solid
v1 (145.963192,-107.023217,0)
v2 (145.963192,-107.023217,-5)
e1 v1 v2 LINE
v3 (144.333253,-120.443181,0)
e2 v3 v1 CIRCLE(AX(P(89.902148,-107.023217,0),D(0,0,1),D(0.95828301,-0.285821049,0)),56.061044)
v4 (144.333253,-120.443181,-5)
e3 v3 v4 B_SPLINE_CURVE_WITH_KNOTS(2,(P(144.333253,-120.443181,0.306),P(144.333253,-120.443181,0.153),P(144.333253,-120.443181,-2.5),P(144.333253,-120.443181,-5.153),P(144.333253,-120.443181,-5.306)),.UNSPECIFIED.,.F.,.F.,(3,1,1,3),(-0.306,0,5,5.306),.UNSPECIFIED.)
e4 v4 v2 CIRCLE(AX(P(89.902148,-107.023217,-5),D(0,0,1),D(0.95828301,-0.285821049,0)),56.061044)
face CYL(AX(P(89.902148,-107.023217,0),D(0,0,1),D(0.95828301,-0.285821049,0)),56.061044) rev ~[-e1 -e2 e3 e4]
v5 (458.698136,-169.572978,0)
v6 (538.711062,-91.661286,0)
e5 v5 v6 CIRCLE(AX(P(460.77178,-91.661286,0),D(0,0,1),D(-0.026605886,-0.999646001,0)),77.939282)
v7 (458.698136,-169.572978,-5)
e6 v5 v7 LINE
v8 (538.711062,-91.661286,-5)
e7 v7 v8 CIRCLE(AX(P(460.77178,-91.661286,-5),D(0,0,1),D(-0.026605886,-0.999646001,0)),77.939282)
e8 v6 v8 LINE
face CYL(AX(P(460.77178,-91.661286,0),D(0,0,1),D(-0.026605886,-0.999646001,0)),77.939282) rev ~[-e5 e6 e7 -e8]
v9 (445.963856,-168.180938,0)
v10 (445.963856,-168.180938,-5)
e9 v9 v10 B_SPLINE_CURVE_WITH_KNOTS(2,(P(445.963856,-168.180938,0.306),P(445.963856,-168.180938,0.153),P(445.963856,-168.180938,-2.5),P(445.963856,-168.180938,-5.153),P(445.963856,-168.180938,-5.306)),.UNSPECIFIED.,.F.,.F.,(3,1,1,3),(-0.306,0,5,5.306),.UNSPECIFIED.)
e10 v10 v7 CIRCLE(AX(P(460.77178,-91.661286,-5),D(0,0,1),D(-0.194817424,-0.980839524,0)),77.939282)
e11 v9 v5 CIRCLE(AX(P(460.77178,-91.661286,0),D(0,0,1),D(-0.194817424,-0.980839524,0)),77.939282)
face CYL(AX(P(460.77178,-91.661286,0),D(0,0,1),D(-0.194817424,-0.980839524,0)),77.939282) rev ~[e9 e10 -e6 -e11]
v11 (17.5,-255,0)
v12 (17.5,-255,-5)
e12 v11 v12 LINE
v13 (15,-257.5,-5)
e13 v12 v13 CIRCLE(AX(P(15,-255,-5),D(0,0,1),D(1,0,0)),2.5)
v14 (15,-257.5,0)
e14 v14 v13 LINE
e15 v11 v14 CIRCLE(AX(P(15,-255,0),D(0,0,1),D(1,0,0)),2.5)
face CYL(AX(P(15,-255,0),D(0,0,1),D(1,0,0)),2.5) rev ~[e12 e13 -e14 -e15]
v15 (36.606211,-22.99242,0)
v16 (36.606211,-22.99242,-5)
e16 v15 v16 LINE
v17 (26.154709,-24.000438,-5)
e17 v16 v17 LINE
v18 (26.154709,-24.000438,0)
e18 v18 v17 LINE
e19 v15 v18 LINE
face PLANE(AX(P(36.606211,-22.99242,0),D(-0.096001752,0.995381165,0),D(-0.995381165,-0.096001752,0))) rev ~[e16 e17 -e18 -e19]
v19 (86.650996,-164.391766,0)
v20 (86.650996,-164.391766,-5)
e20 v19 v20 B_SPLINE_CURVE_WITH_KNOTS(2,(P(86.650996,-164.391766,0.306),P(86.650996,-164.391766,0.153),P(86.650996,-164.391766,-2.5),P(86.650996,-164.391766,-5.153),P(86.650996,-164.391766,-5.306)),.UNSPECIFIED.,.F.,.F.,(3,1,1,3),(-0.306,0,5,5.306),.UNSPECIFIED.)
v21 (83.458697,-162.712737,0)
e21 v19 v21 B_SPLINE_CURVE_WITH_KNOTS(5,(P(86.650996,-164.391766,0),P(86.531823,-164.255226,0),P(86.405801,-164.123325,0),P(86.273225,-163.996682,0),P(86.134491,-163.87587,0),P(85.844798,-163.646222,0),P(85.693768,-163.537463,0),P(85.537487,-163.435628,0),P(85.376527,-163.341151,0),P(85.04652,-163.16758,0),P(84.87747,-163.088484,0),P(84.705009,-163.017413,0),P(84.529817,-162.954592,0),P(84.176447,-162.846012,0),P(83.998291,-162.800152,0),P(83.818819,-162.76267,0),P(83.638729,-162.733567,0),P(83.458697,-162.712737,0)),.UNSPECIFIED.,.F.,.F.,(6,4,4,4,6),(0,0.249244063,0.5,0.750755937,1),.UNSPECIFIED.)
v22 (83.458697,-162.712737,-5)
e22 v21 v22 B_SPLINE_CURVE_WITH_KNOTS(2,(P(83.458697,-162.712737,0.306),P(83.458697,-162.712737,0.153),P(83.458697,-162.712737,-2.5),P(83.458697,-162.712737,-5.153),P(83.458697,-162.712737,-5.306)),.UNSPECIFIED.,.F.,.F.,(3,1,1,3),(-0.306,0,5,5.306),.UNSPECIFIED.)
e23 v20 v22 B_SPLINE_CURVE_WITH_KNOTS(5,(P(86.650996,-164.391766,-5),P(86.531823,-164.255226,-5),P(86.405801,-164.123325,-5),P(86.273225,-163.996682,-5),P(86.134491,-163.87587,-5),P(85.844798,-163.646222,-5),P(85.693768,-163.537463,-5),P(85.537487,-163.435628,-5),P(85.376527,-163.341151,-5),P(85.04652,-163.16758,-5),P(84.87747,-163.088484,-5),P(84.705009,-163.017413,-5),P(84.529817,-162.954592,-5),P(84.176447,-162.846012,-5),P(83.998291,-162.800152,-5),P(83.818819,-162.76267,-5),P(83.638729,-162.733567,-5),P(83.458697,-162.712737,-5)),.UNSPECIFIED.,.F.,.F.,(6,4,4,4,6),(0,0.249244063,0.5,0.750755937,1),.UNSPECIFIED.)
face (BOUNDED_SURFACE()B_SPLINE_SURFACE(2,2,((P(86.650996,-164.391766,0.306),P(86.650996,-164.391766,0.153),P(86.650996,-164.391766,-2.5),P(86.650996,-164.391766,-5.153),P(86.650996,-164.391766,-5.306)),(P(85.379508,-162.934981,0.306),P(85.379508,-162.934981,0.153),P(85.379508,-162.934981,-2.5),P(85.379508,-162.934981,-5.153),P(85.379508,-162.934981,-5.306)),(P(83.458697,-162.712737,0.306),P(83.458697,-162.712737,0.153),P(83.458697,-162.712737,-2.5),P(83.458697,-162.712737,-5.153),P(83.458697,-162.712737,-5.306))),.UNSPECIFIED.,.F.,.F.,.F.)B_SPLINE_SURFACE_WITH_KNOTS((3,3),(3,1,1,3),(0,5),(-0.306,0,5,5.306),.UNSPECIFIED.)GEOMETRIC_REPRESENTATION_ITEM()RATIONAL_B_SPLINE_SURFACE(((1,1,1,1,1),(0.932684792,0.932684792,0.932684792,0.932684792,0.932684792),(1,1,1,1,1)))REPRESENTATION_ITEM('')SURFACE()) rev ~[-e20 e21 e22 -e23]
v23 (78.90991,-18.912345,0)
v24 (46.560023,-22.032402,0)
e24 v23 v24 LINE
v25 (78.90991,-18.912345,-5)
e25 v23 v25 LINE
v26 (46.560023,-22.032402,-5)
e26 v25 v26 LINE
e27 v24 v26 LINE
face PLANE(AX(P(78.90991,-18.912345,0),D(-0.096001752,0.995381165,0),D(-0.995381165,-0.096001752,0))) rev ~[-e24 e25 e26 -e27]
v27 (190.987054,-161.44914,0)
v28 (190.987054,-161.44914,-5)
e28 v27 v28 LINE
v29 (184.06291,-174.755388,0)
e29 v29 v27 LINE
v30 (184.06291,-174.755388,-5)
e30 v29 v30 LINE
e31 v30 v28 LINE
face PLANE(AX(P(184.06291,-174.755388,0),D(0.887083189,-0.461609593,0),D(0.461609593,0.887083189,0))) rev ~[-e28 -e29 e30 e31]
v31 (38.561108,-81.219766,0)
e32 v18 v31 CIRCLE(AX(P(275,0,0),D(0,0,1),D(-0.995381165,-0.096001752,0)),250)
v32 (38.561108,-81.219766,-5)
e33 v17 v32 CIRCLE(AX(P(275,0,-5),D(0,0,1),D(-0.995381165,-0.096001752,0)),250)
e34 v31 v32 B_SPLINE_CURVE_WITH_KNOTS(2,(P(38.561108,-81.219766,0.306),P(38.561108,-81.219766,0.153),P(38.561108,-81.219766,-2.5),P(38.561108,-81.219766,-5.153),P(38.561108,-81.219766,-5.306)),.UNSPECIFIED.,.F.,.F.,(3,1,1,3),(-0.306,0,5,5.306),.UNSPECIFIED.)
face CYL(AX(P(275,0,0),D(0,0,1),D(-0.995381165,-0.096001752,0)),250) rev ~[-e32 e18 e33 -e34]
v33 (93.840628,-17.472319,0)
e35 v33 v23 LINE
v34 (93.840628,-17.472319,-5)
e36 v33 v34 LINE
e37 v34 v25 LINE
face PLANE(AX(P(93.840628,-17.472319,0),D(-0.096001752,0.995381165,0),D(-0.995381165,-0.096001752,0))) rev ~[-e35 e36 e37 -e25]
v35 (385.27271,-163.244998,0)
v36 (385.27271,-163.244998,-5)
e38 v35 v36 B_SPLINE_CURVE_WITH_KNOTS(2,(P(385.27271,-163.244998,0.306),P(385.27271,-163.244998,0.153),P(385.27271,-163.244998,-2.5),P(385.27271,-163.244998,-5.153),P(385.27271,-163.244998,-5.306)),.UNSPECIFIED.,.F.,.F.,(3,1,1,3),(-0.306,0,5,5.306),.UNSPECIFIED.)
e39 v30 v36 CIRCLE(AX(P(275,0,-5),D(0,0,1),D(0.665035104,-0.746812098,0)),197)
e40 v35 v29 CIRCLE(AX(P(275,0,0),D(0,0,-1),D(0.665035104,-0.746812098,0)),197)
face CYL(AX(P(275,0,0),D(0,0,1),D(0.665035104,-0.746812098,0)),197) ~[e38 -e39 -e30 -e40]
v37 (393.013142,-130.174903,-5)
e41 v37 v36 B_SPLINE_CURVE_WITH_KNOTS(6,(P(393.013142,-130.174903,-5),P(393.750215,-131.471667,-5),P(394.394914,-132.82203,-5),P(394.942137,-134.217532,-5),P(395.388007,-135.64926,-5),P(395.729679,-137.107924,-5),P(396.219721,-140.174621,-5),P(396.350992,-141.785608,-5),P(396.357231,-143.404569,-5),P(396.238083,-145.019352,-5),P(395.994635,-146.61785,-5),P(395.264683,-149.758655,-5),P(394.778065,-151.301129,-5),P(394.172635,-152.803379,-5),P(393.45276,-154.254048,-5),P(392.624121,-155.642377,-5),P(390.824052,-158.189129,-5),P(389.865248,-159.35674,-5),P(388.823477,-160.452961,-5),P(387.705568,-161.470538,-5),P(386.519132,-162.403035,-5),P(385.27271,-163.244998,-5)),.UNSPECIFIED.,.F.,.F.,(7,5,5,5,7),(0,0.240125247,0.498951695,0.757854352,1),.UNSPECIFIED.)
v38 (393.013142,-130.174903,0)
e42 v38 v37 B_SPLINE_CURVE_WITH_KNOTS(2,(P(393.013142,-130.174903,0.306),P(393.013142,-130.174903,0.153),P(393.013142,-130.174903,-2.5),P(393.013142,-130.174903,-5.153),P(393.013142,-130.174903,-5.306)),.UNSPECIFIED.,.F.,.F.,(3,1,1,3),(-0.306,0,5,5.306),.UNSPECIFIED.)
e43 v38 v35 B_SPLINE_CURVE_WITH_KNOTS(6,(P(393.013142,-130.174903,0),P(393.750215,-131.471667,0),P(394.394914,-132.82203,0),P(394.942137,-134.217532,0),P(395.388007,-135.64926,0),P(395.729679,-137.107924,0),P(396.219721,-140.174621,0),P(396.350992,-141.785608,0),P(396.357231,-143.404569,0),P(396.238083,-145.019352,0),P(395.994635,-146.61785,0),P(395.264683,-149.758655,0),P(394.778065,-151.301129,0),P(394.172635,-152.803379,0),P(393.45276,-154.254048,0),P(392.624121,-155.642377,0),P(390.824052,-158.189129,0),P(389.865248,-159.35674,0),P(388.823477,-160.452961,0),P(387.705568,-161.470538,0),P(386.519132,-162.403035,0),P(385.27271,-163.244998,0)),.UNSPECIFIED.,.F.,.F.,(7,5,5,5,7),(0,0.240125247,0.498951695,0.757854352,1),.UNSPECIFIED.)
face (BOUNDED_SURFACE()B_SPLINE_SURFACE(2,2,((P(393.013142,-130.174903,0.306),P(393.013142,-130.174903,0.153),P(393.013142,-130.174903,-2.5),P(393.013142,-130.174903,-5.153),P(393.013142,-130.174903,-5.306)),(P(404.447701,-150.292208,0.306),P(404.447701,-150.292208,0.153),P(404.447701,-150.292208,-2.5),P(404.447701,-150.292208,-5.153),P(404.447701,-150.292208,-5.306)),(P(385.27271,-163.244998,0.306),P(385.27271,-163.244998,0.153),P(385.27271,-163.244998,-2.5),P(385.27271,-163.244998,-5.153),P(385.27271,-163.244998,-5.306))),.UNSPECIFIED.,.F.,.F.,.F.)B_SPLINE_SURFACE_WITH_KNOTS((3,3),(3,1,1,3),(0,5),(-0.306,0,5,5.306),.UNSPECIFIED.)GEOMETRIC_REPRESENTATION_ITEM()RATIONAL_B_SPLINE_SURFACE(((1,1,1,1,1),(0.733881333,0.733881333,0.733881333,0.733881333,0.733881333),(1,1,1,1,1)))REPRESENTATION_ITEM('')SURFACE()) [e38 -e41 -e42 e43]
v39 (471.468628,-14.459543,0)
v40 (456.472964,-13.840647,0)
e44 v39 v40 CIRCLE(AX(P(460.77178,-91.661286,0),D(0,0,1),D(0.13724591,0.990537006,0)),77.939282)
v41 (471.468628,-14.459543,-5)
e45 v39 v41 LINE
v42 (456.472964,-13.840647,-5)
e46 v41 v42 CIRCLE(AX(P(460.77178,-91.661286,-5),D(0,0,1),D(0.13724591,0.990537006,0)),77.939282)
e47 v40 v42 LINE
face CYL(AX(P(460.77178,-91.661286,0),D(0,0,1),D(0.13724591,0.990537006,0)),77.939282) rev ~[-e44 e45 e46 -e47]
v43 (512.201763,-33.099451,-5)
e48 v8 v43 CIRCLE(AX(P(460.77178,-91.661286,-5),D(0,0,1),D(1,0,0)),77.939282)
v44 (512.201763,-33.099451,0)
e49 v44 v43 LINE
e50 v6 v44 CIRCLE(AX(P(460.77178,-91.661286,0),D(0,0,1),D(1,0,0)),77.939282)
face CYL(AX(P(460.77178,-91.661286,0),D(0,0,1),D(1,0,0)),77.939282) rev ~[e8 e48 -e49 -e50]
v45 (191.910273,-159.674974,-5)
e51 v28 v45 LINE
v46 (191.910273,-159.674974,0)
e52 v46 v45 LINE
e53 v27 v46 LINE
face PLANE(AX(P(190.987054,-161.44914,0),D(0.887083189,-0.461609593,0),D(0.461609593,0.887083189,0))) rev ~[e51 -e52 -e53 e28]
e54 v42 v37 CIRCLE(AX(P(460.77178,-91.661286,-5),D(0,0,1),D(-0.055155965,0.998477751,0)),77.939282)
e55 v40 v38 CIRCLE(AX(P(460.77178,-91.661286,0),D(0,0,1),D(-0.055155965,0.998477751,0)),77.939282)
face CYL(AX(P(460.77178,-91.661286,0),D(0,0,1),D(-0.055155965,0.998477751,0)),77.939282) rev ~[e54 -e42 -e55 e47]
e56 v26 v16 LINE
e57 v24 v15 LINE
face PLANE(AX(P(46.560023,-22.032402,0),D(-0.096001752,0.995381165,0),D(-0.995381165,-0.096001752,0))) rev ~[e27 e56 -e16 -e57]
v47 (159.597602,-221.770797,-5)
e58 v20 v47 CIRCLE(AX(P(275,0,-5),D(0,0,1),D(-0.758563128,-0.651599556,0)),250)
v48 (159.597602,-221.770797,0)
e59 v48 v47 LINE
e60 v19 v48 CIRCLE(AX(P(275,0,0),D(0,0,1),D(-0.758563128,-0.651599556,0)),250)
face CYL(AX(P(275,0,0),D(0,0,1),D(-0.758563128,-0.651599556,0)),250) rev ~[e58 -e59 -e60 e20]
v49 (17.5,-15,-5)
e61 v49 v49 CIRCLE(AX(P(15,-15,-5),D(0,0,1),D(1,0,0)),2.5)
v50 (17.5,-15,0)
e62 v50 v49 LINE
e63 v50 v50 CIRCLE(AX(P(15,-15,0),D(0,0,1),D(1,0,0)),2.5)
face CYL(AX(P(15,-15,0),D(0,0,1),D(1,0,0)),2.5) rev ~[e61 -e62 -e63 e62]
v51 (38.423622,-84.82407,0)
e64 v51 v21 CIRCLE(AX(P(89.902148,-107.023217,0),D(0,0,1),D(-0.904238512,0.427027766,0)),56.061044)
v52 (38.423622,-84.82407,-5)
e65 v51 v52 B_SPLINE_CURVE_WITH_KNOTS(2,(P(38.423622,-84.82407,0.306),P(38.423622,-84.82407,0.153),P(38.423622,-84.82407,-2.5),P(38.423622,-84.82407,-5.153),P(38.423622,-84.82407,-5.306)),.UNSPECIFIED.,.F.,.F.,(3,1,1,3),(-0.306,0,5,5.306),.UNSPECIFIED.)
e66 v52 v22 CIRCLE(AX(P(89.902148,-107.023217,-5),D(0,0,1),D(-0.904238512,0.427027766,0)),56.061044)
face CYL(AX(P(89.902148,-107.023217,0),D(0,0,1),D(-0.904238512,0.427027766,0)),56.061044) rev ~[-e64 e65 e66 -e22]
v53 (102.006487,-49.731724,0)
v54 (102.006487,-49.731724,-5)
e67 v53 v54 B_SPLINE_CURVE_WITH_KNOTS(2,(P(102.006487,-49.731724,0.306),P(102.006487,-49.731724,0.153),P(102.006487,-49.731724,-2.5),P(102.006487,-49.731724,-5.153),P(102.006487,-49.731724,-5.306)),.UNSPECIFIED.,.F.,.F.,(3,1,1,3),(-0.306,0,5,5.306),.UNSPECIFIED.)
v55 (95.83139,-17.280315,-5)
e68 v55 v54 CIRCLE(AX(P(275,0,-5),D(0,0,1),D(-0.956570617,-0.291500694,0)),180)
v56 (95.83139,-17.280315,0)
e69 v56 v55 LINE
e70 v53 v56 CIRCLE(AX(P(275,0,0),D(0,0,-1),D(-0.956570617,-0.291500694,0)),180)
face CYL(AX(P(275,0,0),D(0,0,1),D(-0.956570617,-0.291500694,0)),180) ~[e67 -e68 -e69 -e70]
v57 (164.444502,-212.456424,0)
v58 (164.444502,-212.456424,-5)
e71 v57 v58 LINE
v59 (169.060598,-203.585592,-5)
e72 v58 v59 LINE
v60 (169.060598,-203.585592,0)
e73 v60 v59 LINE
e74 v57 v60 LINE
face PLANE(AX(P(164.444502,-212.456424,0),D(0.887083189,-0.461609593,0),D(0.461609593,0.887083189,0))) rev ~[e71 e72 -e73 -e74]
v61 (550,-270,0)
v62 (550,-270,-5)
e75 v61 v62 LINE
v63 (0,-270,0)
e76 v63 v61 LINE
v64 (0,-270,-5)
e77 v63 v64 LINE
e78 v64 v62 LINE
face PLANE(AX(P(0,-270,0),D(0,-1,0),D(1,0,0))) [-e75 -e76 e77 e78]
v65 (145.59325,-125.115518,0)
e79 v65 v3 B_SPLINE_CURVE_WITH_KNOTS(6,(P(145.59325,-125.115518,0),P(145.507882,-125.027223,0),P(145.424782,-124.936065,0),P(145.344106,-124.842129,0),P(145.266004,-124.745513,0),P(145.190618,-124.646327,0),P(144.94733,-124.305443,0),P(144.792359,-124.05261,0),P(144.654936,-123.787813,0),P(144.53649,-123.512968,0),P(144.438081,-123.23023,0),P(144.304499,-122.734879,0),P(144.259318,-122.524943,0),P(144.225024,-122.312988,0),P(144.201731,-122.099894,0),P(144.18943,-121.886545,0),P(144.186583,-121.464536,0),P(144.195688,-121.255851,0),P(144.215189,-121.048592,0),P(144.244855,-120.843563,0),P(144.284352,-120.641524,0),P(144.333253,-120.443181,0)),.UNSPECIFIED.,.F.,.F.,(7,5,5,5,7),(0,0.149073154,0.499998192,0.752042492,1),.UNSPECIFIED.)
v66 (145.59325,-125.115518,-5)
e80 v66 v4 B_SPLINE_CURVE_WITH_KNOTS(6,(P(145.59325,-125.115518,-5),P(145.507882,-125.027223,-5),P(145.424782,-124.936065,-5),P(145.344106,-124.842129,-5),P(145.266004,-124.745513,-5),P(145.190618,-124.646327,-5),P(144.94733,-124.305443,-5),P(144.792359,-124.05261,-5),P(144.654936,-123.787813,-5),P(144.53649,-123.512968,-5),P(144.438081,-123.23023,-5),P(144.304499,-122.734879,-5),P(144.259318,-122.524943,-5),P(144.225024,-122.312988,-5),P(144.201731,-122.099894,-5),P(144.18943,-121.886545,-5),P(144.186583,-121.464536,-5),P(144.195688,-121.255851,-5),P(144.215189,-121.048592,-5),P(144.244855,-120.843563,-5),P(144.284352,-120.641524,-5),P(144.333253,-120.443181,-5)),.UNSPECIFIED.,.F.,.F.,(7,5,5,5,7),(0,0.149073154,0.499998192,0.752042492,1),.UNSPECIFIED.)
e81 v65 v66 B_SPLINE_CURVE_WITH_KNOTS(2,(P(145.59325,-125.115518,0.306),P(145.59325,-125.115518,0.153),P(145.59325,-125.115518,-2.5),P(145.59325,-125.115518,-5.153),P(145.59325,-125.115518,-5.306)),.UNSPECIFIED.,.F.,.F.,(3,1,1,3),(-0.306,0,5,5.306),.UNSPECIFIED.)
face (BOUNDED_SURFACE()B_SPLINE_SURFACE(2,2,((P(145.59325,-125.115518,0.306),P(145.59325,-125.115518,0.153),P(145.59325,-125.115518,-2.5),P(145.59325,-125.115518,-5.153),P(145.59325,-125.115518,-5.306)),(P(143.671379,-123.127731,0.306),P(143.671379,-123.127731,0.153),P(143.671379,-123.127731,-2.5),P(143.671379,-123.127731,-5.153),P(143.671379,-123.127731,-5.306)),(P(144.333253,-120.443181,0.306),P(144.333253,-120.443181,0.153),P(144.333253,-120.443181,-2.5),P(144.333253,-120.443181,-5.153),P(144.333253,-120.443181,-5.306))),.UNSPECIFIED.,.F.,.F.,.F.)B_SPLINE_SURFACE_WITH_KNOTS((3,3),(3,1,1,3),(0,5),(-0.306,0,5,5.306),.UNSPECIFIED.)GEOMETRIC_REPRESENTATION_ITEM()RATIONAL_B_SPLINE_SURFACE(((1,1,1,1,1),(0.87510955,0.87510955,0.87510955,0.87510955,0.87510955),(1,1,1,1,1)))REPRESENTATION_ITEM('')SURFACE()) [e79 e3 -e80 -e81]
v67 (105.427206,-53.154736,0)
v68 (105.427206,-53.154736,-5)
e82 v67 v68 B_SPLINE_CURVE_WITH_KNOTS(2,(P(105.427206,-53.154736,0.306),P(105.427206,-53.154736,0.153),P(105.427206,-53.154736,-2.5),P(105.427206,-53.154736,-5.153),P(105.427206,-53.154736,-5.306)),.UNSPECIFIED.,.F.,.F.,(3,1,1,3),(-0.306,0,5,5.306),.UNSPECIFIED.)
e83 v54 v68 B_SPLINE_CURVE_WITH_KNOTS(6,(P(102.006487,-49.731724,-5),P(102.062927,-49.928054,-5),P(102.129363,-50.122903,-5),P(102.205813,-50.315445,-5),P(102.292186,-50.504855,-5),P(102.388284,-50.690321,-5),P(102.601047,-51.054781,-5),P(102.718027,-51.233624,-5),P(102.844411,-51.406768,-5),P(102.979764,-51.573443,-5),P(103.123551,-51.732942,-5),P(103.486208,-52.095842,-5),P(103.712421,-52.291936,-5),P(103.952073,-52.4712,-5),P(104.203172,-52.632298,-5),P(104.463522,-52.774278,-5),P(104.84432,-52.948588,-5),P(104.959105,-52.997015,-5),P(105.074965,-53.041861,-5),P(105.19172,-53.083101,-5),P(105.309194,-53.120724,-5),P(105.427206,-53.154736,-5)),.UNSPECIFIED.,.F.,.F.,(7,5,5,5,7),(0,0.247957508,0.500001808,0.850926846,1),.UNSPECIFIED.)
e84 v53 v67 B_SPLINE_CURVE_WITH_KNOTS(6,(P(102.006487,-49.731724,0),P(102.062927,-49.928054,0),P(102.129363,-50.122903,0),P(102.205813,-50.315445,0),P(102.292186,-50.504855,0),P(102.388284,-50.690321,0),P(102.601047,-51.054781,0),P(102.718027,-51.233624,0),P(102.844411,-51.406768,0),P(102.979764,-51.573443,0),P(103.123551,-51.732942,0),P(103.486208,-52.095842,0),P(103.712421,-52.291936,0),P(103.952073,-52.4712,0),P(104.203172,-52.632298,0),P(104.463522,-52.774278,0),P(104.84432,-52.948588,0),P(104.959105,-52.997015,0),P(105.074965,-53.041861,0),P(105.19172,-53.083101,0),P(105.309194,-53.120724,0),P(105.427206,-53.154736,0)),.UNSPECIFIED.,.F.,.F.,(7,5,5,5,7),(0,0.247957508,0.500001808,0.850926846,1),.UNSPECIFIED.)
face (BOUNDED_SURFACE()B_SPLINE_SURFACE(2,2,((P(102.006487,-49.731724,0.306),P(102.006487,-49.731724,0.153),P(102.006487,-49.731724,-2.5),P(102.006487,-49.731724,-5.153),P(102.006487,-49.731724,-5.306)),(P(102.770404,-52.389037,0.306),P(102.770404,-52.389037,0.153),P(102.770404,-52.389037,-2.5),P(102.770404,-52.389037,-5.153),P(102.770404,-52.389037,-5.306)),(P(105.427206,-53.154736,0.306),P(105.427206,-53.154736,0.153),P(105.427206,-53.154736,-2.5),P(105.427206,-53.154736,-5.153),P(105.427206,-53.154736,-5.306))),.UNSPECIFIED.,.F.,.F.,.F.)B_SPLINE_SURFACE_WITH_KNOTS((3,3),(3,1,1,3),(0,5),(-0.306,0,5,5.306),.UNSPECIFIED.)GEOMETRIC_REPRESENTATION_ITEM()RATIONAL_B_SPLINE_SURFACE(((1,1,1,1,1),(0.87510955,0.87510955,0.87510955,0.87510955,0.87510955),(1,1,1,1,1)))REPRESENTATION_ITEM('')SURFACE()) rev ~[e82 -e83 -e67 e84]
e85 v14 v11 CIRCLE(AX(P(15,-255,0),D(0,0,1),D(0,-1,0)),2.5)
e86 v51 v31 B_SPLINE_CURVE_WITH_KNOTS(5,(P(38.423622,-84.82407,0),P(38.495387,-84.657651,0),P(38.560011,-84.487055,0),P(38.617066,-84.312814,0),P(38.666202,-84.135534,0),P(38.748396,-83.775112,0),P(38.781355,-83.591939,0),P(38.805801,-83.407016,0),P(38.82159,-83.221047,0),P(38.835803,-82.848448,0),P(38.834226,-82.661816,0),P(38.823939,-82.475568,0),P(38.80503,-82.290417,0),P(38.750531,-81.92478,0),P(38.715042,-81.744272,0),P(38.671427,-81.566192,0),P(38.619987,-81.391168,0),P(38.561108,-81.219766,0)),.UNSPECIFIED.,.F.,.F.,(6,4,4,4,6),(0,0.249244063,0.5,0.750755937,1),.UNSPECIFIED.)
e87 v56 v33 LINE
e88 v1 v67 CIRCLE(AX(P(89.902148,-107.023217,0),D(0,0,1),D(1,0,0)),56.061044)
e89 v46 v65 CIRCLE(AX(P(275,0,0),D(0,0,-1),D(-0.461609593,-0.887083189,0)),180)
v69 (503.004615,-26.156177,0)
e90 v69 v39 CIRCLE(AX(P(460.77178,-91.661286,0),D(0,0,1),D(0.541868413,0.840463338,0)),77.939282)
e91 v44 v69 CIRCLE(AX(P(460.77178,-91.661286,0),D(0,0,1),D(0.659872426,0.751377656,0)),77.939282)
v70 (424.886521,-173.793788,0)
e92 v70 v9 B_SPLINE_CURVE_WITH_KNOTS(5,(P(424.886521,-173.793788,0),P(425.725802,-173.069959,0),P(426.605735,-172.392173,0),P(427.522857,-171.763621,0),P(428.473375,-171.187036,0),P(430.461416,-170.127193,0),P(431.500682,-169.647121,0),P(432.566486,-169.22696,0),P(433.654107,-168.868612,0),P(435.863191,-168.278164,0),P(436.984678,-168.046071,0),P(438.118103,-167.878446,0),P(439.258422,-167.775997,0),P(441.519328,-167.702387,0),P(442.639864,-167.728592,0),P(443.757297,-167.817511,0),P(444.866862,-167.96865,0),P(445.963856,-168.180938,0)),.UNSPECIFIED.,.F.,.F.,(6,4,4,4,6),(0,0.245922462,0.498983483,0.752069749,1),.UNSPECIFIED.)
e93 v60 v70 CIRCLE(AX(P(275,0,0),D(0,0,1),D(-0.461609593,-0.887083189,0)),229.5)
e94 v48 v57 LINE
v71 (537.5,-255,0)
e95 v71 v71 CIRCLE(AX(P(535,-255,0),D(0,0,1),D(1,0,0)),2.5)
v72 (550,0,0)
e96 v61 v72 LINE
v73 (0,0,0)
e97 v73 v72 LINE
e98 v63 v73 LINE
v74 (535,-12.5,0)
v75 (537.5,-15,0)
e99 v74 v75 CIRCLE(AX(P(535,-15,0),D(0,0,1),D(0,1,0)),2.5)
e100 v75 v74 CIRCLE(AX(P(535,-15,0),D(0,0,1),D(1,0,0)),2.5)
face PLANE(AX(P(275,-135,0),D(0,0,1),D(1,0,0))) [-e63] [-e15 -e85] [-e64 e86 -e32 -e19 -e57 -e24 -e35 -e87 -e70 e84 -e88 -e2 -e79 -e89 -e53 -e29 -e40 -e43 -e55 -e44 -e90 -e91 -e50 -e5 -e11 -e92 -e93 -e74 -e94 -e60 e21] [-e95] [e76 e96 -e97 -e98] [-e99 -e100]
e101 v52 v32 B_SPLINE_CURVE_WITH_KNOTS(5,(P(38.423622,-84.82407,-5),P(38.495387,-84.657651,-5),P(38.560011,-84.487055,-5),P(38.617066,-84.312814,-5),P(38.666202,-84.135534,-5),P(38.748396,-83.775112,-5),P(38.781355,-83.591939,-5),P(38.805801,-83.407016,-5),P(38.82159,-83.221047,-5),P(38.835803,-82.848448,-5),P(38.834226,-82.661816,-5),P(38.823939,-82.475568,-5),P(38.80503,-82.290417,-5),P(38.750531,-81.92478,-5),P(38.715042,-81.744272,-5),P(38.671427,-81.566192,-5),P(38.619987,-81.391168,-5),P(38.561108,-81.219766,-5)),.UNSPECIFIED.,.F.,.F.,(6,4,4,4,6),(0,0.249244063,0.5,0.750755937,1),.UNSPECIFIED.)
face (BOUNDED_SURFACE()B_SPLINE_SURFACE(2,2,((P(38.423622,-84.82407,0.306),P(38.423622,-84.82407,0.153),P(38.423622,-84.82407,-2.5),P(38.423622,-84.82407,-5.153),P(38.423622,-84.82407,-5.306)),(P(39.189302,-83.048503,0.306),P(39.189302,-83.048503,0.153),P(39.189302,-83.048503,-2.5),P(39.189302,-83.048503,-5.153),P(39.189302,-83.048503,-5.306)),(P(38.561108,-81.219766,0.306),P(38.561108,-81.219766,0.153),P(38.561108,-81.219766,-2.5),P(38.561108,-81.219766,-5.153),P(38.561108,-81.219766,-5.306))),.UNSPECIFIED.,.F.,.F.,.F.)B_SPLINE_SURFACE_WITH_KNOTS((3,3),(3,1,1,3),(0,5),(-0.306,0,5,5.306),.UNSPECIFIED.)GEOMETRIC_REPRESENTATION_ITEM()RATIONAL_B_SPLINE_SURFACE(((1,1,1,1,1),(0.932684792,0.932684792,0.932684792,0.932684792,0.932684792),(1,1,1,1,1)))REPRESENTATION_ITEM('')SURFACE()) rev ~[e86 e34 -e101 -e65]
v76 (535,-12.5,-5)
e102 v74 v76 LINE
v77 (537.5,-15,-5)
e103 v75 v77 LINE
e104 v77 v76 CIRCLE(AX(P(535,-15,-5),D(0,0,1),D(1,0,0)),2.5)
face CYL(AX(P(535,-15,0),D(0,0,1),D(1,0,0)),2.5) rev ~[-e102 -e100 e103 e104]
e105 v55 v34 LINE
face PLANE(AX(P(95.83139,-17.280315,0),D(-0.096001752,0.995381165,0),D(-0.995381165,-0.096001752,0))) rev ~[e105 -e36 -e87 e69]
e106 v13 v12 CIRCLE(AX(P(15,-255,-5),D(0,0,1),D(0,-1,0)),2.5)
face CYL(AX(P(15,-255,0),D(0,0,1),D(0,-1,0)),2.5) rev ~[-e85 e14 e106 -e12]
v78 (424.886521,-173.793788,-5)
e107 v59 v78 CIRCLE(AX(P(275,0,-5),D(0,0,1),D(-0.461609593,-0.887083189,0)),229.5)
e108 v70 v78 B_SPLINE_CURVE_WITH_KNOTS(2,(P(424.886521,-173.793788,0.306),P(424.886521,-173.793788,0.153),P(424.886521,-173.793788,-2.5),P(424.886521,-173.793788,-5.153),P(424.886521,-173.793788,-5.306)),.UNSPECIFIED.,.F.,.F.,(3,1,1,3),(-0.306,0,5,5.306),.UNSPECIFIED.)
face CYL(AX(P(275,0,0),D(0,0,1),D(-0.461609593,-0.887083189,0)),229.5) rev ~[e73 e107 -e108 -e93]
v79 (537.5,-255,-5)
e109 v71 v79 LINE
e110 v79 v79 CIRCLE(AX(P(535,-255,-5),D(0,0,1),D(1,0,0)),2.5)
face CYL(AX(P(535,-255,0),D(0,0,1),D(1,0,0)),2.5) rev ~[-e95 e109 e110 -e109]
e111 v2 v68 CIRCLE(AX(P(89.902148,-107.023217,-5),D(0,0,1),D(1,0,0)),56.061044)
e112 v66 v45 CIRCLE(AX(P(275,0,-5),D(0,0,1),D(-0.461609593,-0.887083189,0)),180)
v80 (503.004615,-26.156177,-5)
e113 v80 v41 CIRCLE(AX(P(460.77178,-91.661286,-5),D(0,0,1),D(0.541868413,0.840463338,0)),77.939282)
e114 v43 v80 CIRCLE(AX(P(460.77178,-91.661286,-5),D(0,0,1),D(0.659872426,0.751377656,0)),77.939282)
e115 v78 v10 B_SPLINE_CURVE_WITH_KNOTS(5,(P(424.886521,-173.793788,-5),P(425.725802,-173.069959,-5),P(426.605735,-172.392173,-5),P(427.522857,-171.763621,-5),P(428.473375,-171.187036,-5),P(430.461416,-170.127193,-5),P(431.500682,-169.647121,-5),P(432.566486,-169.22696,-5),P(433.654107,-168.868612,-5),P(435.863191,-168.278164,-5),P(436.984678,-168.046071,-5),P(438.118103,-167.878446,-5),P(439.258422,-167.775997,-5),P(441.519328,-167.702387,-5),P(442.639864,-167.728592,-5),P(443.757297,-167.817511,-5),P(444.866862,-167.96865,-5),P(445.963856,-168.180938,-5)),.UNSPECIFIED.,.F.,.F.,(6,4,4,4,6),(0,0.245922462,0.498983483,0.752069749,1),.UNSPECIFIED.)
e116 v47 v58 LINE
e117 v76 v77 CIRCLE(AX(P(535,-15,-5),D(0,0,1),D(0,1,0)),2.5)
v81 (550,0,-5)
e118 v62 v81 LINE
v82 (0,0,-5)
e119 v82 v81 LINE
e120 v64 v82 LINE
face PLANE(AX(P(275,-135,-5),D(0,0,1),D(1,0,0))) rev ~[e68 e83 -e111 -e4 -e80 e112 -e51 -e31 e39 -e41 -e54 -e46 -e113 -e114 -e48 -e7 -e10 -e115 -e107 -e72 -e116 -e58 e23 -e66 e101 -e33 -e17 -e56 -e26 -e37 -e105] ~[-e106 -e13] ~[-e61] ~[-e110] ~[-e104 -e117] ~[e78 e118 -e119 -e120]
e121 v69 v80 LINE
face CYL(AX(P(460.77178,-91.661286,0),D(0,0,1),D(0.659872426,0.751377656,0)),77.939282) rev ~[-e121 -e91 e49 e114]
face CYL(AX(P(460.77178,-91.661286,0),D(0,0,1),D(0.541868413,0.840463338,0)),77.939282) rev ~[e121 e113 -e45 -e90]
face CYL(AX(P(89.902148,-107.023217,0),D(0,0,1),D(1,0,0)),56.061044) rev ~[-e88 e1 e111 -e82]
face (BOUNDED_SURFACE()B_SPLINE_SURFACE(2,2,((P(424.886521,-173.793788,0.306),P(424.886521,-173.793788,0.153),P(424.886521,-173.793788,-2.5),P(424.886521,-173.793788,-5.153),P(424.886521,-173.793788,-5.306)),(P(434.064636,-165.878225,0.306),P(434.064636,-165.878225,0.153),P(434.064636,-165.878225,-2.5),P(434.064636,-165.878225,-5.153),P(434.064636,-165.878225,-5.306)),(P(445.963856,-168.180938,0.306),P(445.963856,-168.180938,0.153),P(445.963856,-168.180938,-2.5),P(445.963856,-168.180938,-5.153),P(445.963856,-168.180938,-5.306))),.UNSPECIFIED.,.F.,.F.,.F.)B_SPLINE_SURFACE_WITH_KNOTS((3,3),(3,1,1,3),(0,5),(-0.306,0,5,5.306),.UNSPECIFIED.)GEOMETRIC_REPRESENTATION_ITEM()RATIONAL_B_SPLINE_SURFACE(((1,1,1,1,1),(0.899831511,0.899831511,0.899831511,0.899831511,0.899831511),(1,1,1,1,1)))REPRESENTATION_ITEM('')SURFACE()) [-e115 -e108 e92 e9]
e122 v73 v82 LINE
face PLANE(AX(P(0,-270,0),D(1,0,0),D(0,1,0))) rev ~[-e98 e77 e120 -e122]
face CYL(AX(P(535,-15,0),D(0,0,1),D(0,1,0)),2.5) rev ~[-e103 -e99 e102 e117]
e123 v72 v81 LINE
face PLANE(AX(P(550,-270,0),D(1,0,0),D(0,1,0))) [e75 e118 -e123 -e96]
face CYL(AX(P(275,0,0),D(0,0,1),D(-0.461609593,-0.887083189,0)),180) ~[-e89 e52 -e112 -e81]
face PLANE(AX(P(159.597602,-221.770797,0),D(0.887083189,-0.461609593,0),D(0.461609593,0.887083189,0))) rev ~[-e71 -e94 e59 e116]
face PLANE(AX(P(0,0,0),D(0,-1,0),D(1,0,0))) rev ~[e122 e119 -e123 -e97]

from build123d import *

# Parameters (mm, degrees)
F0_W     = 550
F0_H     = 270
F1_DEPTH = 5
F3_DEPTH = 25
F4_R     = 25
F2_R     = 2.5
F5_DEPTH = 25
F6_R     = 5


with BuildPart() as f1:
    # F0 (on Top) → F1 (new body)
    with BuildSketch(Plane.XY):
        with Locations((275, -135)):
            Rectangle(F0_W, F0_H)
    extrude(amount=-F1_DEPTH)

    # F2 (on face) → F3 (cut)
    with BuildSketch(Plane.XY):
        with BuildLine():
            ThreePointArc((445.5878496959, -168.1072144083), (452.1119253863, -169.1179747106), (458.6981361528, -169.5729777234))
            ThreePointArc((458.6981361528, -169.5729777234), (515.1450884683, -147.5010120731), (538.711061865, -91.6612861494))
            ThreePointArc((538.711061865, -91.6612861494), (531.7751165183, -59.5200686387), (512.2017629268, -33.0994511193))
            ThreePointArc((512.2017629268, -33.0994511193), (489.778644371, -105.9735057557), (445.5878496959, -168.1072144083))
        make_face()
        with BuildLine():
            ThreePointArc((434.4818086721, -165.032732216), (439.9779290015, -166.7755154888), (445.5878496959, -168.1072144083))
            ThreePointArc((445.5878496959, -168.1072144083), (489.778644371, -105.9735057557), (512.2017629268, -33.0994511193))
            ThreePointArc((512.2017629268, -33.0994511193), (507.7316897495, -29.4576002162), (503.004614878, -26.1561769822))
            ThreePointArc((503.004614878, -26.1561769822), (480.8108512866, -101.5487247221), (434.4818086721, -165.032732216))
        make_face()
        with BuildLine():
            ThreePointArc((406.011915497, -147.1219833941), (419.2691571527, -157.6314611673), (434.4818086721, -165.032732216))
            ThreePointArc((434.4818086721, -165.032732216), (480.8108512866, -101.5487247221), (503.004614878, -26.1561769822))
            ThreePointArc((503.004614878, -26.1561769822), (487.87511248, -18.5863859301), (471.4686275556, -14.459543092))
            ThreePointArc((471.4686275556, -14.459543092), (451.6655237624, -87.1681863628), (406.011915497, -147.1219833941))
        make_face()
        with BuildLine():
            ThreePointArc((396.3969974723, -135.5978207964), (400.9264158373, -141.5918788666), (406.011915497, -147.1219833941))
            ThreePointArc((406.011915497, -147.1219833941), (451.6655237624, -87.1681863628), (471.4686275556, -14.459543092))
            ThreePointArc((471.4686275556, -14.459543092), (463.9857274878, -13.7882983897), (456.4729635167, -13.8406471114))
            ThreePointArc((456.4729635167, -13.8406471114), (438.2138341358, -80.5310148123), (396.3969974723, -135.5978207964))
        make_face()
        with BuildLine():
            ThreePointArc((395.2793152892, -133.9137271289), (395.8326968589, -134.7593972826), (396.3969974723, -135.5978207964))
            ThreePointArc((396.3969974723, -135.5978207964), (438.2138341358, -80.5310148123), (456.4729635167, -13.8406471114))
            ThreePointArc((456.4729635167, -13.8406471114), (391.3304963156, -56.2714595868), (395.2793152892, -133.9137271289))
        make_face()
        with BuildLine():
            ThreePointArc((26.1547087534, -24.0004380043), (30.8880481953, -53.9384370008), (39.2095922874, -83.0835942334))
            ThreePointArc((39.2095922874, -83.0835942334), (42.4819606163, -77.1205988593), (46.4524007703, -71.5977994519))
            ThreePointArc((46.4524007703, -71.5977994519), (40.2678425285, -47.5506492992), (36.6062109858, -22.9924196081))
            Line((36.6062109858, -22.9924196081), (26.1547087534, -24.0004380043))
        make_face()
        with BuildLine():
            ThreePointArc((36.6062109858, -22.9924196081), (40.2678425285, -47.5506492992), (46.4524007703, -71.5977994519))
            ThreePointArc((46.4524007703, -71.5977994519), (50.2625511055, -67.3805241048), (54.4801240278, -63.5707031676))
            ThreePointArc((54.4801240278, -63.5707031676), (49.5613274278, -42.9843565598), (46.5600226356, -22.0324020879))
            Line((46.5600226356, -22.0324020879), (36.6062109858, -22.9924196081))
        make_face()
        with BuildLine():
            ThreePointArc((46.5600226356, -22.0324020879), (49.5613274278, -42.9843565598), (54.4801240278, -63.5707031676))
            ThreePointArc((54.4801240278, -63.5707031676), (68.7018719367, -55.1253458568), (84.76908962, -51.1976633843))
            ThreePointArc((84.76908962, -51.1976633843), (81.1661428415, -35.1772059589), (78.9099104977, -18.9123451474))
            Line((78.9099104977, -18.9123451474), (46.5600226356, -22.0324020879))
        make_face()
        with BuildLine():
            ThreePointArc((78.9099104977, -18.9123451474), (81.1661428415, -35.1772059589), (84.76908962, -51.1976633843))
            ThreePointArc((84.76908962, -51.1976633843), (92.7043581114, -51.0322504264), (100.5834584289, -51.9891337337))
            ThreePointArc((100.5834584289, -51.9891337337), (96.3763447636, -34.89397928), (93.8406279725, -17.4723188671))
            Line((93.8406279725, -17.4723188671), (78.9099104977, -18.9123451474))
        make_face()
        with BuildLine():
            ThreePointArc((93.8406279725, -17.4723188671), (96.3763447636, -34.89397928), (100.5834584289, -51.9891337337))
            ThreePointArc((100.5834584289, -51.9891337337), (101.702824577, -52.2182469254), (102.8172889589, -52.4701250099))
            ThreePointArc((102.8172889589, -52.4701250099), (98.4454239564, -35.0497029669), (95.8313903025, -17.2803153631))
            Line((95.8313903025, -17.2803153631), (93.8406279725, -17.4723188671))
        make_face()
        with BuildLine():
            ThreePointArc((102.8172889589, -52.4701250099), (119.1726628165, -90.0990620723), (143.6244940218, -123.0466433063))
            ThreePointArc((143.6244940218, -123.0466433063), (145.375436454, -115.11981647), (145.9631920321, -107.023216784))
            ThreePointArc((145.9631920321, -107.023216784), (133.8730301026, -72.2467564476), (102.8172889589, -52.4701250099))
        make_face()
        with BuildLine():
            ThreePointArc((100.5834584289, -51.9891337337), (117.4412479589, -91.100162762), (142.9268949098, -125.2225814773))
            ThreePointArc((142.9268949098, -125.2225814773), (143.2867819227, -124.1381669965), (143.6244940218, -123.0466433063))
            ThreePointArc((143.6244940218, -123.0466433063), (119.1726628165, -90.0990620723), (102.8172889589, -52.4701250099))
            ThreePointArc((102.8172889589, -52.4701250099), (101.702824577, -52.2182469254), (100.5834584289, -51.9891337337))
        make_face()
        with BuildLine():
            ThreePointArc((84.76908962, -51.1976633843), (104.455636527, -98.6084179347), (135.7230627314, -139.3231306894))
            ThreePointArc((135.7230627314, -139.3231306894), (139.8253147464, -132.5284727964), (142.9268949098, -125.2225814773))
            ThreePointArc((142.9268949098, -125.2225814773), (117.4412479589, -91.100162762), (100.5834584289, -51.9891337337))
            ThreePointArc((100.5834584289, -51.9891337337), (92.7043581114, -51.0322504264), (84.76908962, -51.1976633843))
        make_face()
        with BuildLine():
            ThreePointArc((54.4801240278, -63.5707031676), (76.3201450911, -114.8763041421), (109.8887146149, -159.4004812994))
            ThreePointArc((109.8887146149, -159.4004812994), (124.3031821577, -151.2884347545), (135.7230627314, -139.3231306894))
            ThreePointArc((135.7230627314, -139.3231306894), (104.455636527, -98.6084179347), (84.76908962, -51.1976633843))
            ThreePointArc((84.76908962, -51.1976633843), (68.7018719367, -55.1253458568), (54.4801240278, -63.5707031676))
        make_face()
        with BuildLine():
            ThreePointArc((46.4524007703, -71.5977994519), (67.6630708031, -119.8818075906), (98.9269281749, -162.353082441))
            ThreePointArc((98.9269281749, -162.353082441), (104.4827523758, -161.1549696004), (109.8887146149, -159.4004812994))
            ThreePointArc((109.8887146149, -159.4004812994), (76.3201450911, -114.8763041421), (54.4801240278, -63.5707031676))
            ThreePointArc((54.4801240278, -63.5707031676), (50.2625511055, -67.3805241048), (46.4524007703, -71.5977994519))
        make_face()
        with BuildLine():
            ThreePointArc((39.2095922874, -83.0835942334), (58.5731428007, -125.1375862115), (85.359218008, -162.8998889056))
            ThreePointArc((85.359218008, -162.8998889056), (92.159689712, -163.0387878421), (98.9269281749, -162.353082441))
            ThreePointArc((98.9269281749, -162.353082441), (67.6630708031, -119.8818075906), (46.4524007703, -71.5977994519))
            ThreePointArc((46.4524007703, -71.5977994519), (42.4819606163, -77.1205988593), (39.2095922874, -83.0835942334))
        make_face()
        with BuildLine():
            ThreePointArc((39.2095922874, -83.0835942334), (41.3696850637, -135.0845918815), (85.359218008, -162.8998889056))
            ThreePointArc((85.359218008, -162.8998889056), (58.5731428007, -125.1375862115), (39.2095922874, -83.0835942334))
        make_face()
        with BuildLine():
            ThreePointArc((142.9268949098, -125.2225814773), (165.4491613095, -145.3362093293), (190.9870540226, -161.4491403142))
            Line((190.9870540226, -161.4491403142), (191.9102732092, -159.6749739371))
            ThreePointArc((191.9102732092, -159.6749739371), (166.2146946142, -143.4076613439), (143.6244940218, -123.0466433063))
            ThreePointArc((143.6244940218, -123.0466433063), (143.2867819227, -124.1381669965), (142.9268949098, -125.2225814773))
        make_face()
        with BuildLine():
            ThreePointArc((135.7230627314, -139.3231306894), (158.5376207067, -158.8883702772), (184.0629101234, -174.7553881423))
            Line((184.0629101234, -174.7553881423), (190.9870540226, -161.4491403142))
            ThreePointArc((190.9870540226, -161.4491403142), (165.4491613095, -145.3362093293), (142.9268949098, -125.2225814773))
            ThreePointArc((142.9268949098, -125.2225814773), (139.8253147464, -132.5284727964), (135.7230627314, -139.3231306894))
        make_face()
        with BuildLine():
            ThreePointArc((109.8887146149, -159.4004812994), (137.6857628157, -183.8886898819), (169.0605983417, -203.5855917699))
            Line((169.0605983417, -203.5855917699), (184.0629101234, -174.7553881423))
            ThreePointArc((184.0629101234, -174.7553881423), (158.5376207067, -158.8883702772), (135.7230627314, -139.3231306894))
            ThreePointArc((135.7230627314, -139.3231306894), (124.3031821577, -151.2884347545), (109.8887146149, -159.4004812994))
        make_face()
        with BuildLine():
            ThreePointArc((98.9269281749, -162.353082441), (129.5126452175, -190.2463655327), (164.4445024089, -212.4564236553))
            Line((164.4445024089, -212.4564236553), (169.0605983417, -203.5855917699))
            ThreePointArc((169.0605983417, -203.5855917699), (137.6857628157, -183.8886898819), (109.8887146149, -159.4004812994))
            ThreePointArc((109.8887146149, -159.4004812994), (104.4827523758, -161.1549696004), (98.9269281749, -162.353082441))
        make_face()
        with BuildLine():
            ThreePointArc((85.359218008, -162.8998889056), (119.6639725539, -195.884452107), (159.5976016794, -221.7707971349))
            Line((159.5976016794, -221.7707971349), (164.4445024089, -212.4564236553))
            ThreePointArc((164.4445024089, -212.4564236553), (129.5126452175, -190.2463655327), (98.9269281749, -162.353082441))
            ThreePointArc((98.9269281749, -162.353082441), (92.159689712, -163.0387878421), (85.359218008, -162.8998889056))
        make_face()
        with BuildLine():
            Line((184.0629101234, -174.7553881423), (169.0605983417, -203.5855917699))
            ThreePointArc((169.0605983417, -203.5855917699), (307.9890600374, -227.1166482622), (434.4818086721, -165.032732216))
            ThreePointArc((434.4818086721, -165.032732216), (419.2691571527, -157.6314611673), (406.011915497, -147.1219833941))
            ThreePointArc((406.011915497, -147.1219833941), (299.3392517679, -195.4906668447), (184.0629101234, -174.7553881423))
        make_face()
    extrude(amount=-F3_DEPTH, mode=Mode.SUBTRACT)

    # F4
    f4_edges = [f1.edges().sort_by_distance(p)[0] for p in [
        (406.011915, -147.121983, -2.5),
        (434.481809, -165.032732, -2.5),
    ]]
    fillet(f4_edges, radius=F4_R)

    # F2 (on face) → F5 (cut)
    with BuildSketch(Plane.XY):
        with Locations((15, -15)):
            Circle(F2_R)
        with BuildLine():
            ThreePointArc((17.5, -255), (13.232233047, -253.232233047), (15, -257.5))
            ThreePointArc((15, -257.5), (16.767766953, -256.767766953), (17.5, -255))
        make_face()
        with Locations((535, -255)):
            Circle(F2_R)
        with BuildLine():
            ThreePointArc((537.5, -15), (536.767766953, -13.232233047), (535, -12.5))
            ThreePointArc((535, -12.5), (533.232233047, -16.767766953), (537.5, -15))
        make_face()
    extrude(amount=-F5_DEPTH, mode=Mode.SUBTRACT)

    # F6
    f6_edges = [f1.edges().sort_by_distance(p)[0] for p in [
        (102.817289, -52.470125, -2.5),
        (143.624494, -123.046643, -2.5),
        (39.209592, -83.083594, -2.5),
        (85.359218, -162.899889, -2.5),
    ]]
    fillet(f6_edges, radius=F6_R)


solid = f1.part
